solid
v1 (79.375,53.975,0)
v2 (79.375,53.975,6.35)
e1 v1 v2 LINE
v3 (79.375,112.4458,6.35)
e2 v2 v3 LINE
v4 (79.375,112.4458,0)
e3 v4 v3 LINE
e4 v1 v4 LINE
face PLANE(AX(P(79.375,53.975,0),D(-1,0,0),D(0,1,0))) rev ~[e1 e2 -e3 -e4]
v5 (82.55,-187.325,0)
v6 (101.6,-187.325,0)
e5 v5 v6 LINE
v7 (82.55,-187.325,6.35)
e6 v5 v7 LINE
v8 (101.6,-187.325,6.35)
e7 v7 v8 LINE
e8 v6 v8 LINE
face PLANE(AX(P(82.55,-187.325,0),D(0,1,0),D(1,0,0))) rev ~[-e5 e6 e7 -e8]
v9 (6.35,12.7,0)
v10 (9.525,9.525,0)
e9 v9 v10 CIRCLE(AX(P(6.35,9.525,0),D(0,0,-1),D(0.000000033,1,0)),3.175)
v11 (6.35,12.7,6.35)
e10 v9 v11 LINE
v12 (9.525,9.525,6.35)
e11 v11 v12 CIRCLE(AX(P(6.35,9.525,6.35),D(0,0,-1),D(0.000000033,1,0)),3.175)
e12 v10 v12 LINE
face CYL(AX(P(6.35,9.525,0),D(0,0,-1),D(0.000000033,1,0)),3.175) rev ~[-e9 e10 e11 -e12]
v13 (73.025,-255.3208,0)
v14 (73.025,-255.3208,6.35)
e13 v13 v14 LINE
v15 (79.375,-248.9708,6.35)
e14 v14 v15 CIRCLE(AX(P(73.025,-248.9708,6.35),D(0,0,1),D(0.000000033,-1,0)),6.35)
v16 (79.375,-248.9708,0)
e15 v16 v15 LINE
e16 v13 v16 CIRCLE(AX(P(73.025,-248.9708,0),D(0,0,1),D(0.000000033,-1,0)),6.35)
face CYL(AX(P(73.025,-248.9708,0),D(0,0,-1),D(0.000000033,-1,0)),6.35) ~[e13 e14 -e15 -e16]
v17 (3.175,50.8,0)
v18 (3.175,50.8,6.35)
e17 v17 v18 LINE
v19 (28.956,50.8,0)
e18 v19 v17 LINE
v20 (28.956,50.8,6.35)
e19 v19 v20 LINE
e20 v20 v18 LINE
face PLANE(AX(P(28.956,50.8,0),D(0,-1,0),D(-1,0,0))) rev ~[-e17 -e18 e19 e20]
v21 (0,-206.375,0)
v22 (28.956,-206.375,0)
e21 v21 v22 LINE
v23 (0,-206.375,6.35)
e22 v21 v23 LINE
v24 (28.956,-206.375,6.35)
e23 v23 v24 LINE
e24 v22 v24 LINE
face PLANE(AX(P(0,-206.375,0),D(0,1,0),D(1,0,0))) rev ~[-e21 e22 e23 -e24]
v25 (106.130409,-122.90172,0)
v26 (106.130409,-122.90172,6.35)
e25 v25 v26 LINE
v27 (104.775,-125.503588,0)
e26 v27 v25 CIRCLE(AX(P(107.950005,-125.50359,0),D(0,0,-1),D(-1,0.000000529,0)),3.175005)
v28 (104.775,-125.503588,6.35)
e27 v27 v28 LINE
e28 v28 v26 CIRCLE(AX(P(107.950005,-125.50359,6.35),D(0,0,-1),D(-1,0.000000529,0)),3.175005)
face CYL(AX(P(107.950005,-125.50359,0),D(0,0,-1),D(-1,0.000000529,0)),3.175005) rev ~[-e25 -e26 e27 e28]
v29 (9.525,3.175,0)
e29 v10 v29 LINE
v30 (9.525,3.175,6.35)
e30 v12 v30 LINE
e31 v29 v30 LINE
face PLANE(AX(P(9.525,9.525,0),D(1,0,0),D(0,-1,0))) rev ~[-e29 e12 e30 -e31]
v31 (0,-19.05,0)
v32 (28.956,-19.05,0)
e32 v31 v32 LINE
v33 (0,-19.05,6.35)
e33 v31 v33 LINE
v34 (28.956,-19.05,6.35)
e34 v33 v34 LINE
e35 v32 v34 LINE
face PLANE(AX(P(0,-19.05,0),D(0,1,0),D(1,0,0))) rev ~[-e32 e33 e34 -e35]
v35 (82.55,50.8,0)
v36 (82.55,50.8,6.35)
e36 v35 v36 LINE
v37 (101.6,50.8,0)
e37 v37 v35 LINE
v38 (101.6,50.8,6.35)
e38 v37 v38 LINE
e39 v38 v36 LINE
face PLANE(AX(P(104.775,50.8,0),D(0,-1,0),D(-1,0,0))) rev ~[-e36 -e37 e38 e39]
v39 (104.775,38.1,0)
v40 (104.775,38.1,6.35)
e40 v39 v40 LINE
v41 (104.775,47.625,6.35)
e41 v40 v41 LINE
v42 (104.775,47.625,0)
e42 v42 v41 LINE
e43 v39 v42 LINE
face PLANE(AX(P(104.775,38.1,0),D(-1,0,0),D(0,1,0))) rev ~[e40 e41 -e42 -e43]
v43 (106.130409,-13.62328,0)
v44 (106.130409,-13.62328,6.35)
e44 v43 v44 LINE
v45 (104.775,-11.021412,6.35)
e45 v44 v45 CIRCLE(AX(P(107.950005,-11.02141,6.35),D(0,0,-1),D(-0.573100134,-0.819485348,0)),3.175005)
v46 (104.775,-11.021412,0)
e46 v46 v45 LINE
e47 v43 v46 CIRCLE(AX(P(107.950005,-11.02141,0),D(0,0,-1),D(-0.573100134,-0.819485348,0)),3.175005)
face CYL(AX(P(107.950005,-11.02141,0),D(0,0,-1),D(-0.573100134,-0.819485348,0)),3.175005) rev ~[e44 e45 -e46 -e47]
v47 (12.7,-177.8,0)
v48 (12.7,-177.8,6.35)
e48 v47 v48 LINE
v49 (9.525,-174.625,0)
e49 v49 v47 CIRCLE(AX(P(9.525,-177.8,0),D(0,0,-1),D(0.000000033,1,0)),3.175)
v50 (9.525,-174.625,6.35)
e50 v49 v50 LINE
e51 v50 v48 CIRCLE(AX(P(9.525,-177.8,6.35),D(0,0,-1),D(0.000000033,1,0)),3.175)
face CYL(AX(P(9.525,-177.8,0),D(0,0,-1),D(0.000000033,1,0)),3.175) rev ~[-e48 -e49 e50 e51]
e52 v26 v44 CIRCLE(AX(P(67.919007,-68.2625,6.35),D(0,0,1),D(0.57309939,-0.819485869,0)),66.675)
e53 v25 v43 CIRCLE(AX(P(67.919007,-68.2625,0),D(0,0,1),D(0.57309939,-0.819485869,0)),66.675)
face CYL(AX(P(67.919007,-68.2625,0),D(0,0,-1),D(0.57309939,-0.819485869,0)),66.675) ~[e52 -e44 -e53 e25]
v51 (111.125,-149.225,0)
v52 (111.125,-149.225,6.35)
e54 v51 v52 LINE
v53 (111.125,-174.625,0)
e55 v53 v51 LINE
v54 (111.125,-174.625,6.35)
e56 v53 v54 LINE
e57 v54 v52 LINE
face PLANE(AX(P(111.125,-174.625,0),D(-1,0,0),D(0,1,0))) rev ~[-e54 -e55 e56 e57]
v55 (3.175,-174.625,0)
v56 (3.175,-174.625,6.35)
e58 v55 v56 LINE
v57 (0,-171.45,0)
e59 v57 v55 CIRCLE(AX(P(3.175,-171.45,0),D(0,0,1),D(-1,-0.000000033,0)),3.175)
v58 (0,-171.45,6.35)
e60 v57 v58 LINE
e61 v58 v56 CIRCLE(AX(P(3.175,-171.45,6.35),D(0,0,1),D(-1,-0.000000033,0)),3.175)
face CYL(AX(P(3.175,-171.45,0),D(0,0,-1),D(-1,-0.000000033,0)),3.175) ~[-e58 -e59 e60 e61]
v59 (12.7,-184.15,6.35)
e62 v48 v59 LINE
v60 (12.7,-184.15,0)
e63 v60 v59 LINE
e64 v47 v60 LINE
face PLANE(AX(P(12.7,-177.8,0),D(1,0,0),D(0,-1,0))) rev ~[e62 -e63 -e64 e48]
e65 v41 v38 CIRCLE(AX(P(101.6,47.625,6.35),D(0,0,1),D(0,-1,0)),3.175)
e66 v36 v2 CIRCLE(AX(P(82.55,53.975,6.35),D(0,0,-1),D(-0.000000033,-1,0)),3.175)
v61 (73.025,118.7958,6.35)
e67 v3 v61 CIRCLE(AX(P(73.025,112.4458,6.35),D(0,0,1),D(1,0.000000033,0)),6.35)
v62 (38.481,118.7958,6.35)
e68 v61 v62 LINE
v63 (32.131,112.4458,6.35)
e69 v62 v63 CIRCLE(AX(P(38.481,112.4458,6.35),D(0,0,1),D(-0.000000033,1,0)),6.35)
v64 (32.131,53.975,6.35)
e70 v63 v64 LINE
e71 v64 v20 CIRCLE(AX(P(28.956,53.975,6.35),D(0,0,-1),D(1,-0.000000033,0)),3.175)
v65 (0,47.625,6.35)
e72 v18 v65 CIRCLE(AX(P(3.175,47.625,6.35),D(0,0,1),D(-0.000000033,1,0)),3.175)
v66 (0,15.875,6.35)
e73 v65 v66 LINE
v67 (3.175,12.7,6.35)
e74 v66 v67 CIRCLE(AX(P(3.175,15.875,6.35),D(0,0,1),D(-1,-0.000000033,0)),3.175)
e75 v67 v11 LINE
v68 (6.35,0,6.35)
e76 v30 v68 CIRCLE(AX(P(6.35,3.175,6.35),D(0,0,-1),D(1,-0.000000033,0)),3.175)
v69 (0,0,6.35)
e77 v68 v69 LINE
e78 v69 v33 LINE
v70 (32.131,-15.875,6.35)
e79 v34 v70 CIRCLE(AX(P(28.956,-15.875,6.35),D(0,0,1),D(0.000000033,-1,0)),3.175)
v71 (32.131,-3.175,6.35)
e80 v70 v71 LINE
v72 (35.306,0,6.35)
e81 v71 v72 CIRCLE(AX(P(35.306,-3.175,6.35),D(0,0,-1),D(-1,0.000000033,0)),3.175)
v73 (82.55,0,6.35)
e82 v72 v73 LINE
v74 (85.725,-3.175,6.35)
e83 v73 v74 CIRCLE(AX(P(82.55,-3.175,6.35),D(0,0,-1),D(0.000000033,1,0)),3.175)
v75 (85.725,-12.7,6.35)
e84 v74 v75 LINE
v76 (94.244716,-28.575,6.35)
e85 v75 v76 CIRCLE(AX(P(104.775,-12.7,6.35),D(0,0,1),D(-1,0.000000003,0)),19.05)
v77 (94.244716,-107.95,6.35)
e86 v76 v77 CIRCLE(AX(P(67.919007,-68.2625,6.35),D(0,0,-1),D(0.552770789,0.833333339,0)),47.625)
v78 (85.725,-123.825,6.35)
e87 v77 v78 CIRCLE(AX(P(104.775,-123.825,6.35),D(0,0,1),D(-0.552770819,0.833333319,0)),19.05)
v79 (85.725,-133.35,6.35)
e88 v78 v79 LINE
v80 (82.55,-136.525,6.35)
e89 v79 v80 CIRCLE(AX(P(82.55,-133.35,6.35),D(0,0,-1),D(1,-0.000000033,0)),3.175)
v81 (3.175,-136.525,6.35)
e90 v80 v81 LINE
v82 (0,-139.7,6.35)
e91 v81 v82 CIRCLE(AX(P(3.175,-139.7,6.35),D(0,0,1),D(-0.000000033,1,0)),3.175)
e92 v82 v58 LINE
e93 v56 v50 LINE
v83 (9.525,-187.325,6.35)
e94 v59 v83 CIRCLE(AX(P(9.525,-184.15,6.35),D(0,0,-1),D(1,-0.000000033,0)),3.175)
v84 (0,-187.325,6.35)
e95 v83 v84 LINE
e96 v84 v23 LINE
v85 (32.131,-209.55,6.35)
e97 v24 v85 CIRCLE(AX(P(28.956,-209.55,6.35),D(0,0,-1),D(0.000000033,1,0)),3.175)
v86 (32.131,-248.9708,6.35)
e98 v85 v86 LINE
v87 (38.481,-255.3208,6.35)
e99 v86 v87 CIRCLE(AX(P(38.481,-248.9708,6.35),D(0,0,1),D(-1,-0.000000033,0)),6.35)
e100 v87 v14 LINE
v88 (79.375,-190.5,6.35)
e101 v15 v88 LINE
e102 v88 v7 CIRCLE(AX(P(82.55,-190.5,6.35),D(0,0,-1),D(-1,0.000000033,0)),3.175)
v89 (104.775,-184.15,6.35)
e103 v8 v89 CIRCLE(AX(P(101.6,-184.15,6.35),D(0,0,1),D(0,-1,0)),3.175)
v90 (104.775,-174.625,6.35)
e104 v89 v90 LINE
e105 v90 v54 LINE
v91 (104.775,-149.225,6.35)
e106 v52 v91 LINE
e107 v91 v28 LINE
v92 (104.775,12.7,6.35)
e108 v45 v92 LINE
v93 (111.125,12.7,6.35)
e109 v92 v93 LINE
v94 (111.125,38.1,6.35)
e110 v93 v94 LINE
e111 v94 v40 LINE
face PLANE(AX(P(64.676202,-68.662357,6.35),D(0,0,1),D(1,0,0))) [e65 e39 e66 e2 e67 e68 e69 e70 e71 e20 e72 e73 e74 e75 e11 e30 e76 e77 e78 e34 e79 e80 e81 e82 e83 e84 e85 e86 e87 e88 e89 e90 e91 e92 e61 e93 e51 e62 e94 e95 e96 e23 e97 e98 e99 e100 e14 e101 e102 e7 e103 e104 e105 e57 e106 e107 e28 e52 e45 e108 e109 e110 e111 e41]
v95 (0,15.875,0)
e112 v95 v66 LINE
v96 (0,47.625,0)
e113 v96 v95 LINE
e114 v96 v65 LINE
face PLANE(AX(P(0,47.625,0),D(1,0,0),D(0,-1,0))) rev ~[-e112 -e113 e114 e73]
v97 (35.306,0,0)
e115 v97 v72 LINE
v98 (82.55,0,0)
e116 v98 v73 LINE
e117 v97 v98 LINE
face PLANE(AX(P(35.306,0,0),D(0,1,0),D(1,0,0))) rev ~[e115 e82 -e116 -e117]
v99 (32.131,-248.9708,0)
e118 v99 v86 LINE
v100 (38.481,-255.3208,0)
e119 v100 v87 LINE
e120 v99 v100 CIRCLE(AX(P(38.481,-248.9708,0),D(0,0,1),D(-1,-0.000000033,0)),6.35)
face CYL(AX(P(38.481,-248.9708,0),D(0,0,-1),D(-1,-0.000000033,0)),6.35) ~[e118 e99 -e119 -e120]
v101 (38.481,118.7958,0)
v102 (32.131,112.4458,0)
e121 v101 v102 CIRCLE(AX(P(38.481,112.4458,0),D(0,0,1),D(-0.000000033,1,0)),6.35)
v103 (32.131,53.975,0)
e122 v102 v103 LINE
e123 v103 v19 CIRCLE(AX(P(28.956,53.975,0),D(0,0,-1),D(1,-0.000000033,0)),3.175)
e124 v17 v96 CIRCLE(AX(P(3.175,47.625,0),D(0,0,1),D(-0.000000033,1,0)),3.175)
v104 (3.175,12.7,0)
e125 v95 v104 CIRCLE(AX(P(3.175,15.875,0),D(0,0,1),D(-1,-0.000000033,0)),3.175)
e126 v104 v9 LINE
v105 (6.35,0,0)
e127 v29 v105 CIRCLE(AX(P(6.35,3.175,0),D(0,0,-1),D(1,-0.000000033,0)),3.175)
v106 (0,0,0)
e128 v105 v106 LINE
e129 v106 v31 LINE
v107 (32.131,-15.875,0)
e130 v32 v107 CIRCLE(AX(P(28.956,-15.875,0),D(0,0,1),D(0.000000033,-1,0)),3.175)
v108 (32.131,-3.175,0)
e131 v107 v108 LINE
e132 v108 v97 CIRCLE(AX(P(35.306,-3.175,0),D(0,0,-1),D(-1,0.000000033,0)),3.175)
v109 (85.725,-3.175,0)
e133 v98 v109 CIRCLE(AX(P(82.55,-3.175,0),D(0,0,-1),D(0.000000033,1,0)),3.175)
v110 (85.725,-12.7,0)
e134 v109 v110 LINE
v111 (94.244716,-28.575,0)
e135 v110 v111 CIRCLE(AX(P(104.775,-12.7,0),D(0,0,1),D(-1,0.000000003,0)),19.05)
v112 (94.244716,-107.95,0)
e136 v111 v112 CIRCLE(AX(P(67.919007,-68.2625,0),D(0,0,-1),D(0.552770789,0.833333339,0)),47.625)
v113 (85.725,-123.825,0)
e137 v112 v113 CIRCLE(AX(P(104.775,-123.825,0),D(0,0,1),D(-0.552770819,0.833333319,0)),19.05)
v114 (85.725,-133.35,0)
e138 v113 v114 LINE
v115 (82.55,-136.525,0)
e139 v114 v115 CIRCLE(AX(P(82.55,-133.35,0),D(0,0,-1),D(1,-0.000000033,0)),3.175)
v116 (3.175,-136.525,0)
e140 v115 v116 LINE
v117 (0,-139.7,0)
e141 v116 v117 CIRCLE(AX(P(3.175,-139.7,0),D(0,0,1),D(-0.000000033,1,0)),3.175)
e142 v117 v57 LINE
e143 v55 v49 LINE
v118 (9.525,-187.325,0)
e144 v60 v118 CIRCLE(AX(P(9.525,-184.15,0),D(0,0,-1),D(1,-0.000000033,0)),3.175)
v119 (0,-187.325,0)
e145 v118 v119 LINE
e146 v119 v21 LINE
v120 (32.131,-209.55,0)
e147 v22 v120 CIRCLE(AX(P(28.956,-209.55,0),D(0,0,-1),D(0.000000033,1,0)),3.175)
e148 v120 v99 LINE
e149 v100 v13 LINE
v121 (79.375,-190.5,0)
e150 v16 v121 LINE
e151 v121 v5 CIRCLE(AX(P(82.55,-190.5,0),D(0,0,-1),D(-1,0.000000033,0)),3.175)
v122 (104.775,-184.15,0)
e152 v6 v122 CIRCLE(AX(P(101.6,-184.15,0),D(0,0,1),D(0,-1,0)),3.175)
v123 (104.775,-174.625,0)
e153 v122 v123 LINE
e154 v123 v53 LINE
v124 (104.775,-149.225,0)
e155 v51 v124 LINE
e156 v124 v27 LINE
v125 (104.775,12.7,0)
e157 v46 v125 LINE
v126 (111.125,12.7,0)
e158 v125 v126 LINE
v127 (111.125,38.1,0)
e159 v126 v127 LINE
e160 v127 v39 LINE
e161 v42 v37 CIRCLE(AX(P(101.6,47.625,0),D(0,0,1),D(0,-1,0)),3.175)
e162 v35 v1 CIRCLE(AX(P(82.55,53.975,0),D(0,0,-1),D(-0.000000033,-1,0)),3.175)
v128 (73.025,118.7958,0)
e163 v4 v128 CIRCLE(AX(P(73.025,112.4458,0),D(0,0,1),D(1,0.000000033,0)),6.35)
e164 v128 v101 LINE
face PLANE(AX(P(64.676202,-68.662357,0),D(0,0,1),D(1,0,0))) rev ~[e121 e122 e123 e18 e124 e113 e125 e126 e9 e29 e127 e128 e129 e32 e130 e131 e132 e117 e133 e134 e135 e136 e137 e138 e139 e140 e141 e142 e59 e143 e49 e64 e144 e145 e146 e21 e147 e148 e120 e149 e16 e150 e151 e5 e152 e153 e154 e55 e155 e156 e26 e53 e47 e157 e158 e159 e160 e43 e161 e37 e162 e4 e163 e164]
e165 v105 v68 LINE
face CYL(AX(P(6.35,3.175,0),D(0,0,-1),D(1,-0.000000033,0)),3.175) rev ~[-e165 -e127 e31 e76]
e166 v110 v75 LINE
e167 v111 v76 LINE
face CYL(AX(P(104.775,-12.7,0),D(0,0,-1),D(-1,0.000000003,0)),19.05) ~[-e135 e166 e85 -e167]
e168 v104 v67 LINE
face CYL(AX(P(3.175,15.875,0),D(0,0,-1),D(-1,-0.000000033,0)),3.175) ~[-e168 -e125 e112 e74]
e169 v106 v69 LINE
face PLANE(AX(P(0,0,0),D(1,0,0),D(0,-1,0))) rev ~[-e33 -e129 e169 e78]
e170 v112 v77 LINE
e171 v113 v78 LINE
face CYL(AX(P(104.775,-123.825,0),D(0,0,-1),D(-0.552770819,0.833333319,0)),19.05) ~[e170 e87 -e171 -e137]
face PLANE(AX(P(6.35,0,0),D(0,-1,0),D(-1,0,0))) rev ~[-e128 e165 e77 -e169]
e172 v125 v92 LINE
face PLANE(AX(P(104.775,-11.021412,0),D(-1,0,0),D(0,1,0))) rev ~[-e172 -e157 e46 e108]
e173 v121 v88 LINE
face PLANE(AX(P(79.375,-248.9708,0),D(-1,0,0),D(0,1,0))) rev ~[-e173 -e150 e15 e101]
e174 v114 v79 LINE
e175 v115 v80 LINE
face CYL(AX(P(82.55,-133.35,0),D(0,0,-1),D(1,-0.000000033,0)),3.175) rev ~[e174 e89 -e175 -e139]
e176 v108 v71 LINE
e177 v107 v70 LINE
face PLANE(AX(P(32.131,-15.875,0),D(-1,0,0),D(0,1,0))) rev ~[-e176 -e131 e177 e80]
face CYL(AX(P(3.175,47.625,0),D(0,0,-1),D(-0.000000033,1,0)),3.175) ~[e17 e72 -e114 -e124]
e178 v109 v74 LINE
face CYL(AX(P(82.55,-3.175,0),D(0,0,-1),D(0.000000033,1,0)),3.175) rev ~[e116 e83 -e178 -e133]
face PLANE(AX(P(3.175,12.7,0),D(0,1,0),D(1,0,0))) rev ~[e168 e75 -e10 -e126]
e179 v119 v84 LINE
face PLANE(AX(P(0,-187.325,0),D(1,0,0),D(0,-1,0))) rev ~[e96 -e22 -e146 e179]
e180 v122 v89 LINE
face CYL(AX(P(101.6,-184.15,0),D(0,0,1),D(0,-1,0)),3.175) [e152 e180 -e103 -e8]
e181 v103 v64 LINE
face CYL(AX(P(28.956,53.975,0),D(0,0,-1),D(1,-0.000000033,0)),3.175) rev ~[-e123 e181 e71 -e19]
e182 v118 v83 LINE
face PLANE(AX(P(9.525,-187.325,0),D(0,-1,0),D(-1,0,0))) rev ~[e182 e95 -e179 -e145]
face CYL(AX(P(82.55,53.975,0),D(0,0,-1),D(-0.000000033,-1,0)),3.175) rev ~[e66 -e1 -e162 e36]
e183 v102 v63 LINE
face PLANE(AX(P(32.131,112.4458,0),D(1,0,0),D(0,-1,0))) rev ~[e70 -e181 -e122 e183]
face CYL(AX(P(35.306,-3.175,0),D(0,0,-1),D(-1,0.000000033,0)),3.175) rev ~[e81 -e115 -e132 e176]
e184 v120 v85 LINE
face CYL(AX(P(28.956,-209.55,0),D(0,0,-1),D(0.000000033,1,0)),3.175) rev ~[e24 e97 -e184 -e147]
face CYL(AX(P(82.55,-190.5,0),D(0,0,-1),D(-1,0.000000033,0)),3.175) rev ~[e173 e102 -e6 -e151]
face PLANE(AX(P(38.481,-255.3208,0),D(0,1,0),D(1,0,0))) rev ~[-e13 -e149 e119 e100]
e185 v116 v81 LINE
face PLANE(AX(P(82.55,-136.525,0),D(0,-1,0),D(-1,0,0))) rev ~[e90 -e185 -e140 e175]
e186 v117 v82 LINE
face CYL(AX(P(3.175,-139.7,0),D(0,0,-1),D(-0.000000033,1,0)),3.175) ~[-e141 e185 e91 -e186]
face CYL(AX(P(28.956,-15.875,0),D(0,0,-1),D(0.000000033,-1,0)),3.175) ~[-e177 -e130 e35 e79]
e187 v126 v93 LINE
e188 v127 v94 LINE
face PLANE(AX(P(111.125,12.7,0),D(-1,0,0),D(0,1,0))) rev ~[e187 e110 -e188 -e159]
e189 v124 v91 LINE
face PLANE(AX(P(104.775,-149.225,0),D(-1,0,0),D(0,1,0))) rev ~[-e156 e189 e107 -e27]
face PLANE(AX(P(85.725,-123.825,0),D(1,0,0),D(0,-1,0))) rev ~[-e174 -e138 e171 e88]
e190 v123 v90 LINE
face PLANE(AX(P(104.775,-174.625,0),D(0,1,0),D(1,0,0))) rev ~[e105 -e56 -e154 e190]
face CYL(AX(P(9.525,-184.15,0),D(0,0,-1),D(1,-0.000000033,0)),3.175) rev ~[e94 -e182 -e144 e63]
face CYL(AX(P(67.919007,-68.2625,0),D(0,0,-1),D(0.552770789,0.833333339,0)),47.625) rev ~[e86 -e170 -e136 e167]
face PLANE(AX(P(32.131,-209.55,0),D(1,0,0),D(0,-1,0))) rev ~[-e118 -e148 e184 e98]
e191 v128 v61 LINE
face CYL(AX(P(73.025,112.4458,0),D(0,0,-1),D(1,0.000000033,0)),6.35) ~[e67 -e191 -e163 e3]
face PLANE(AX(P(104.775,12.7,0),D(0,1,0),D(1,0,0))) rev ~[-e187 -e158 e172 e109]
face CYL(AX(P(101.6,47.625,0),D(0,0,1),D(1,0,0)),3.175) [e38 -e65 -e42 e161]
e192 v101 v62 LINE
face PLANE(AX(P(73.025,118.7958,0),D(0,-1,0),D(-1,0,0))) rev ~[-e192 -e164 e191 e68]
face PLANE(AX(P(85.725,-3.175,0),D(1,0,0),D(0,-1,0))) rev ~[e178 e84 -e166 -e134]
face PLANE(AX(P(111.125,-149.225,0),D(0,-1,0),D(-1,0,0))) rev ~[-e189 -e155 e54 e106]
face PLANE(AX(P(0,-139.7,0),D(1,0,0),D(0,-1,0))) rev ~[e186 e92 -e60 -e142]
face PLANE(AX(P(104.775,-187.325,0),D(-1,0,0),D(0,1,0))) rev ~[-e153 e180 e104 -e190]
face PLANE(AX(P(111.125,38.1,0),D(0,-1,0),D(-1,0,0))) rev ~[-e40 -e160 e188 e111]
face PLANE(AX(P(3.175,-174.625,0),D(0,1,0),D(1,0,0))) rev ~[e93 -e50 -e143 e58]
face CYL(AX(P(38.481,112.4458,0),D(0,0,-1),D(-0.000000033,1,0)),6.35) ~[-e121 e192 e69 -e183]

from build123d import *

# Parameters (mm, degrees)
F1_DEPTH = 6.35
F2_R     = 3.175


with BuildPart() as f1:
    # F0 (on Top) → F1 (new body)
    with BuildSketch(Plane.XY):
        with BuildLine():
            Line((6.35, 0), (0, 0))
            Line((0, 0), (0, -19.05))
            Line((0, -19.05), (28.956, -19.05))
            ThreePointArc((28.956, -19.05), (31.201064, -18.120064), (32.131, -15.875))
            Line((32.131, -15.875), (32.131, -3.175))
            ThreePointArc((32.131, -3.175), (33.060936, -0.929936), (35.306, 0))
            Line((35.306, 0), (82.55, 0))
            ThreePointArc((82.55, 0), (84.795064, -0.929936), (85.725, -3.175))
            Line((85.725, -3.175), (85.725, -12.7))
            ThreePointArc((85.725, -12.7), (87.989524, -21.708346), (94.244716, -28.575))
            ThreePointArc((94.244716, -28.575), (115.544007, -68.2625), (94.244716, -107.95))
            ThreePointArc((94.244716, -107.95), (87.989524, -114.816654), (85.725, -123.825))
            Line((85.725, -123.825), (85.725, -133.35))
            ThreePointArc((85.725, -133.35), (84.795064, -135.595064), (82.55, -136.525))
            Line((82.55, -136.525), (3.175, -136.525))
            ThreePointArc((3.175, -136.525), (0.929936, -137.454936), (0, -139.7))
            Line((0, -139.7), (0, -171.45))
            ThreePointArc((0, -171.45), (0.929936, -173.695064), (3.175, -174.625))
            Line((3.175, -174.625), (9.525, -174.625))
            ThreePointArc((9.525, -174.625), (11.770064, -175.554936), (12.7, -177.8))
            Line((12.7, -177.8), (12.7, -184.15))
            ThreePointArc((12.7, -184.15), (11.770064, -186.395064), (9.525, -187.325))
            Line((9.525, -187.325), (0, -187.325))
            Line((0, -187.325), (0, -206.375))
            Line((0, -206.375), (28.956, -206.375))
            ThreePointArc((28.956, -206.375), (31.201064, -207.304936), (32.131, -209.55))
            Line((32.131, -209.55), (32.131, -248.9708))
            ThreePointArc((32.131, -248.9708), (33.990872, -253.460928), (38.481, -255.3208))
            Line((38.481, -255.3208), (73.025, -255.3208))
            ThreePointArc((73.025, -255.3208), (77.515128, -253.460928), (79.375, -248.9708))
            Line((79.375, -248.9708), (79.375, -190.5))
            ThreePointArc((79.375, -190.5), (80.304936, -188.254936), (82.55, -187.325))
            Line((82.55, -187.325), (104.775, -187.325))
            Line((104.775, -187.325), (104.775, -174.625))
            Line((104.775, -174.625), (111.125, -174.625))
            Line((111.125, -174.625), (111.125, -149.225))
            Line((111.125, -149.225), (104.775, -149.225))
            Line((104.775, -149.225), (104.775, -125.503588))
            ThreePointArc((104.775, -125.503588), (105.134168, -124.036716), (106.130409, -122.90172))
            ThreePointArc((106.130409, -122.90172), (134.594007, -68.2625), (106.130409, -13.62328))
            ThreePointArc((106.130409, -13.62328), (105.134168, -12.488284), (104.775, -11.021412))
            Line((104.775, -11.021412), (104.775, 12.7))
            Line((104.775, 12.7), (111.125, 12.7))
            Line((111.125, 12.7), (111.125, 38.1))
            Line((111.125, 38.1), (104.775, 38.1))
            Line((104.775, 38.1), (104.775, 50.8))
            Line((104.775, 50.8), (82.55, 50.8))
            ThreePointArc((82.55, 50.8), (80.304936, 51.729936), (79.375, 53.975))
            Line((79.375, 53.975), (79.375, 112.4458))
            ThreePointArc((79.375, 112.4458), (77.515128, 116.935928), (73.025, 118.7958))
            Line((73.025, 118.7958), (38.481, 118.7958))
            ThreePointArc((38.481, 118.7958), (33.990872, 116.935928), (32.131, 112.4458))
            Line((32.131, 112.4458), (32.131, 53.975))
            ThreePointArc((32.131, 53.975), (31.201064, 51.729936), (28.956, 50.8))
            Line((28.956, 50.8), (3.175, 50.8))
            ThreePointArc((3.175, 50.8), (0.929936, 49.870064), (0, 47.625))
            Line((0, 47.625), (0, 15.875))
            ThreePointArc((0, 15.875), (0.929936, 13.629936), (3.175, 12.7))
            Line((3.175, 12.7), (6.35, 12.7))
            ThreePointArc((6.35, 12.7), (8.595064, 11.770064), (9.525, 9.525))
            Line((9.525, 9.525), (9.525, 3.175))
            ThreePointArc((9.525, 3.175), (8.595064, 0.929936), (6.35, 0))
        make_face()
    extrude(amount=F1_DEPTH)

    # F2
    f2_edges = [f1.edges().sort_by_distance(p)[0] for p in [
        (104.775, -187.325, 3.175),
        (104.775, 50.8, 3.175),
    ]]
    fillet(f2_edges, radius=F2_R)


solid = f1.part
